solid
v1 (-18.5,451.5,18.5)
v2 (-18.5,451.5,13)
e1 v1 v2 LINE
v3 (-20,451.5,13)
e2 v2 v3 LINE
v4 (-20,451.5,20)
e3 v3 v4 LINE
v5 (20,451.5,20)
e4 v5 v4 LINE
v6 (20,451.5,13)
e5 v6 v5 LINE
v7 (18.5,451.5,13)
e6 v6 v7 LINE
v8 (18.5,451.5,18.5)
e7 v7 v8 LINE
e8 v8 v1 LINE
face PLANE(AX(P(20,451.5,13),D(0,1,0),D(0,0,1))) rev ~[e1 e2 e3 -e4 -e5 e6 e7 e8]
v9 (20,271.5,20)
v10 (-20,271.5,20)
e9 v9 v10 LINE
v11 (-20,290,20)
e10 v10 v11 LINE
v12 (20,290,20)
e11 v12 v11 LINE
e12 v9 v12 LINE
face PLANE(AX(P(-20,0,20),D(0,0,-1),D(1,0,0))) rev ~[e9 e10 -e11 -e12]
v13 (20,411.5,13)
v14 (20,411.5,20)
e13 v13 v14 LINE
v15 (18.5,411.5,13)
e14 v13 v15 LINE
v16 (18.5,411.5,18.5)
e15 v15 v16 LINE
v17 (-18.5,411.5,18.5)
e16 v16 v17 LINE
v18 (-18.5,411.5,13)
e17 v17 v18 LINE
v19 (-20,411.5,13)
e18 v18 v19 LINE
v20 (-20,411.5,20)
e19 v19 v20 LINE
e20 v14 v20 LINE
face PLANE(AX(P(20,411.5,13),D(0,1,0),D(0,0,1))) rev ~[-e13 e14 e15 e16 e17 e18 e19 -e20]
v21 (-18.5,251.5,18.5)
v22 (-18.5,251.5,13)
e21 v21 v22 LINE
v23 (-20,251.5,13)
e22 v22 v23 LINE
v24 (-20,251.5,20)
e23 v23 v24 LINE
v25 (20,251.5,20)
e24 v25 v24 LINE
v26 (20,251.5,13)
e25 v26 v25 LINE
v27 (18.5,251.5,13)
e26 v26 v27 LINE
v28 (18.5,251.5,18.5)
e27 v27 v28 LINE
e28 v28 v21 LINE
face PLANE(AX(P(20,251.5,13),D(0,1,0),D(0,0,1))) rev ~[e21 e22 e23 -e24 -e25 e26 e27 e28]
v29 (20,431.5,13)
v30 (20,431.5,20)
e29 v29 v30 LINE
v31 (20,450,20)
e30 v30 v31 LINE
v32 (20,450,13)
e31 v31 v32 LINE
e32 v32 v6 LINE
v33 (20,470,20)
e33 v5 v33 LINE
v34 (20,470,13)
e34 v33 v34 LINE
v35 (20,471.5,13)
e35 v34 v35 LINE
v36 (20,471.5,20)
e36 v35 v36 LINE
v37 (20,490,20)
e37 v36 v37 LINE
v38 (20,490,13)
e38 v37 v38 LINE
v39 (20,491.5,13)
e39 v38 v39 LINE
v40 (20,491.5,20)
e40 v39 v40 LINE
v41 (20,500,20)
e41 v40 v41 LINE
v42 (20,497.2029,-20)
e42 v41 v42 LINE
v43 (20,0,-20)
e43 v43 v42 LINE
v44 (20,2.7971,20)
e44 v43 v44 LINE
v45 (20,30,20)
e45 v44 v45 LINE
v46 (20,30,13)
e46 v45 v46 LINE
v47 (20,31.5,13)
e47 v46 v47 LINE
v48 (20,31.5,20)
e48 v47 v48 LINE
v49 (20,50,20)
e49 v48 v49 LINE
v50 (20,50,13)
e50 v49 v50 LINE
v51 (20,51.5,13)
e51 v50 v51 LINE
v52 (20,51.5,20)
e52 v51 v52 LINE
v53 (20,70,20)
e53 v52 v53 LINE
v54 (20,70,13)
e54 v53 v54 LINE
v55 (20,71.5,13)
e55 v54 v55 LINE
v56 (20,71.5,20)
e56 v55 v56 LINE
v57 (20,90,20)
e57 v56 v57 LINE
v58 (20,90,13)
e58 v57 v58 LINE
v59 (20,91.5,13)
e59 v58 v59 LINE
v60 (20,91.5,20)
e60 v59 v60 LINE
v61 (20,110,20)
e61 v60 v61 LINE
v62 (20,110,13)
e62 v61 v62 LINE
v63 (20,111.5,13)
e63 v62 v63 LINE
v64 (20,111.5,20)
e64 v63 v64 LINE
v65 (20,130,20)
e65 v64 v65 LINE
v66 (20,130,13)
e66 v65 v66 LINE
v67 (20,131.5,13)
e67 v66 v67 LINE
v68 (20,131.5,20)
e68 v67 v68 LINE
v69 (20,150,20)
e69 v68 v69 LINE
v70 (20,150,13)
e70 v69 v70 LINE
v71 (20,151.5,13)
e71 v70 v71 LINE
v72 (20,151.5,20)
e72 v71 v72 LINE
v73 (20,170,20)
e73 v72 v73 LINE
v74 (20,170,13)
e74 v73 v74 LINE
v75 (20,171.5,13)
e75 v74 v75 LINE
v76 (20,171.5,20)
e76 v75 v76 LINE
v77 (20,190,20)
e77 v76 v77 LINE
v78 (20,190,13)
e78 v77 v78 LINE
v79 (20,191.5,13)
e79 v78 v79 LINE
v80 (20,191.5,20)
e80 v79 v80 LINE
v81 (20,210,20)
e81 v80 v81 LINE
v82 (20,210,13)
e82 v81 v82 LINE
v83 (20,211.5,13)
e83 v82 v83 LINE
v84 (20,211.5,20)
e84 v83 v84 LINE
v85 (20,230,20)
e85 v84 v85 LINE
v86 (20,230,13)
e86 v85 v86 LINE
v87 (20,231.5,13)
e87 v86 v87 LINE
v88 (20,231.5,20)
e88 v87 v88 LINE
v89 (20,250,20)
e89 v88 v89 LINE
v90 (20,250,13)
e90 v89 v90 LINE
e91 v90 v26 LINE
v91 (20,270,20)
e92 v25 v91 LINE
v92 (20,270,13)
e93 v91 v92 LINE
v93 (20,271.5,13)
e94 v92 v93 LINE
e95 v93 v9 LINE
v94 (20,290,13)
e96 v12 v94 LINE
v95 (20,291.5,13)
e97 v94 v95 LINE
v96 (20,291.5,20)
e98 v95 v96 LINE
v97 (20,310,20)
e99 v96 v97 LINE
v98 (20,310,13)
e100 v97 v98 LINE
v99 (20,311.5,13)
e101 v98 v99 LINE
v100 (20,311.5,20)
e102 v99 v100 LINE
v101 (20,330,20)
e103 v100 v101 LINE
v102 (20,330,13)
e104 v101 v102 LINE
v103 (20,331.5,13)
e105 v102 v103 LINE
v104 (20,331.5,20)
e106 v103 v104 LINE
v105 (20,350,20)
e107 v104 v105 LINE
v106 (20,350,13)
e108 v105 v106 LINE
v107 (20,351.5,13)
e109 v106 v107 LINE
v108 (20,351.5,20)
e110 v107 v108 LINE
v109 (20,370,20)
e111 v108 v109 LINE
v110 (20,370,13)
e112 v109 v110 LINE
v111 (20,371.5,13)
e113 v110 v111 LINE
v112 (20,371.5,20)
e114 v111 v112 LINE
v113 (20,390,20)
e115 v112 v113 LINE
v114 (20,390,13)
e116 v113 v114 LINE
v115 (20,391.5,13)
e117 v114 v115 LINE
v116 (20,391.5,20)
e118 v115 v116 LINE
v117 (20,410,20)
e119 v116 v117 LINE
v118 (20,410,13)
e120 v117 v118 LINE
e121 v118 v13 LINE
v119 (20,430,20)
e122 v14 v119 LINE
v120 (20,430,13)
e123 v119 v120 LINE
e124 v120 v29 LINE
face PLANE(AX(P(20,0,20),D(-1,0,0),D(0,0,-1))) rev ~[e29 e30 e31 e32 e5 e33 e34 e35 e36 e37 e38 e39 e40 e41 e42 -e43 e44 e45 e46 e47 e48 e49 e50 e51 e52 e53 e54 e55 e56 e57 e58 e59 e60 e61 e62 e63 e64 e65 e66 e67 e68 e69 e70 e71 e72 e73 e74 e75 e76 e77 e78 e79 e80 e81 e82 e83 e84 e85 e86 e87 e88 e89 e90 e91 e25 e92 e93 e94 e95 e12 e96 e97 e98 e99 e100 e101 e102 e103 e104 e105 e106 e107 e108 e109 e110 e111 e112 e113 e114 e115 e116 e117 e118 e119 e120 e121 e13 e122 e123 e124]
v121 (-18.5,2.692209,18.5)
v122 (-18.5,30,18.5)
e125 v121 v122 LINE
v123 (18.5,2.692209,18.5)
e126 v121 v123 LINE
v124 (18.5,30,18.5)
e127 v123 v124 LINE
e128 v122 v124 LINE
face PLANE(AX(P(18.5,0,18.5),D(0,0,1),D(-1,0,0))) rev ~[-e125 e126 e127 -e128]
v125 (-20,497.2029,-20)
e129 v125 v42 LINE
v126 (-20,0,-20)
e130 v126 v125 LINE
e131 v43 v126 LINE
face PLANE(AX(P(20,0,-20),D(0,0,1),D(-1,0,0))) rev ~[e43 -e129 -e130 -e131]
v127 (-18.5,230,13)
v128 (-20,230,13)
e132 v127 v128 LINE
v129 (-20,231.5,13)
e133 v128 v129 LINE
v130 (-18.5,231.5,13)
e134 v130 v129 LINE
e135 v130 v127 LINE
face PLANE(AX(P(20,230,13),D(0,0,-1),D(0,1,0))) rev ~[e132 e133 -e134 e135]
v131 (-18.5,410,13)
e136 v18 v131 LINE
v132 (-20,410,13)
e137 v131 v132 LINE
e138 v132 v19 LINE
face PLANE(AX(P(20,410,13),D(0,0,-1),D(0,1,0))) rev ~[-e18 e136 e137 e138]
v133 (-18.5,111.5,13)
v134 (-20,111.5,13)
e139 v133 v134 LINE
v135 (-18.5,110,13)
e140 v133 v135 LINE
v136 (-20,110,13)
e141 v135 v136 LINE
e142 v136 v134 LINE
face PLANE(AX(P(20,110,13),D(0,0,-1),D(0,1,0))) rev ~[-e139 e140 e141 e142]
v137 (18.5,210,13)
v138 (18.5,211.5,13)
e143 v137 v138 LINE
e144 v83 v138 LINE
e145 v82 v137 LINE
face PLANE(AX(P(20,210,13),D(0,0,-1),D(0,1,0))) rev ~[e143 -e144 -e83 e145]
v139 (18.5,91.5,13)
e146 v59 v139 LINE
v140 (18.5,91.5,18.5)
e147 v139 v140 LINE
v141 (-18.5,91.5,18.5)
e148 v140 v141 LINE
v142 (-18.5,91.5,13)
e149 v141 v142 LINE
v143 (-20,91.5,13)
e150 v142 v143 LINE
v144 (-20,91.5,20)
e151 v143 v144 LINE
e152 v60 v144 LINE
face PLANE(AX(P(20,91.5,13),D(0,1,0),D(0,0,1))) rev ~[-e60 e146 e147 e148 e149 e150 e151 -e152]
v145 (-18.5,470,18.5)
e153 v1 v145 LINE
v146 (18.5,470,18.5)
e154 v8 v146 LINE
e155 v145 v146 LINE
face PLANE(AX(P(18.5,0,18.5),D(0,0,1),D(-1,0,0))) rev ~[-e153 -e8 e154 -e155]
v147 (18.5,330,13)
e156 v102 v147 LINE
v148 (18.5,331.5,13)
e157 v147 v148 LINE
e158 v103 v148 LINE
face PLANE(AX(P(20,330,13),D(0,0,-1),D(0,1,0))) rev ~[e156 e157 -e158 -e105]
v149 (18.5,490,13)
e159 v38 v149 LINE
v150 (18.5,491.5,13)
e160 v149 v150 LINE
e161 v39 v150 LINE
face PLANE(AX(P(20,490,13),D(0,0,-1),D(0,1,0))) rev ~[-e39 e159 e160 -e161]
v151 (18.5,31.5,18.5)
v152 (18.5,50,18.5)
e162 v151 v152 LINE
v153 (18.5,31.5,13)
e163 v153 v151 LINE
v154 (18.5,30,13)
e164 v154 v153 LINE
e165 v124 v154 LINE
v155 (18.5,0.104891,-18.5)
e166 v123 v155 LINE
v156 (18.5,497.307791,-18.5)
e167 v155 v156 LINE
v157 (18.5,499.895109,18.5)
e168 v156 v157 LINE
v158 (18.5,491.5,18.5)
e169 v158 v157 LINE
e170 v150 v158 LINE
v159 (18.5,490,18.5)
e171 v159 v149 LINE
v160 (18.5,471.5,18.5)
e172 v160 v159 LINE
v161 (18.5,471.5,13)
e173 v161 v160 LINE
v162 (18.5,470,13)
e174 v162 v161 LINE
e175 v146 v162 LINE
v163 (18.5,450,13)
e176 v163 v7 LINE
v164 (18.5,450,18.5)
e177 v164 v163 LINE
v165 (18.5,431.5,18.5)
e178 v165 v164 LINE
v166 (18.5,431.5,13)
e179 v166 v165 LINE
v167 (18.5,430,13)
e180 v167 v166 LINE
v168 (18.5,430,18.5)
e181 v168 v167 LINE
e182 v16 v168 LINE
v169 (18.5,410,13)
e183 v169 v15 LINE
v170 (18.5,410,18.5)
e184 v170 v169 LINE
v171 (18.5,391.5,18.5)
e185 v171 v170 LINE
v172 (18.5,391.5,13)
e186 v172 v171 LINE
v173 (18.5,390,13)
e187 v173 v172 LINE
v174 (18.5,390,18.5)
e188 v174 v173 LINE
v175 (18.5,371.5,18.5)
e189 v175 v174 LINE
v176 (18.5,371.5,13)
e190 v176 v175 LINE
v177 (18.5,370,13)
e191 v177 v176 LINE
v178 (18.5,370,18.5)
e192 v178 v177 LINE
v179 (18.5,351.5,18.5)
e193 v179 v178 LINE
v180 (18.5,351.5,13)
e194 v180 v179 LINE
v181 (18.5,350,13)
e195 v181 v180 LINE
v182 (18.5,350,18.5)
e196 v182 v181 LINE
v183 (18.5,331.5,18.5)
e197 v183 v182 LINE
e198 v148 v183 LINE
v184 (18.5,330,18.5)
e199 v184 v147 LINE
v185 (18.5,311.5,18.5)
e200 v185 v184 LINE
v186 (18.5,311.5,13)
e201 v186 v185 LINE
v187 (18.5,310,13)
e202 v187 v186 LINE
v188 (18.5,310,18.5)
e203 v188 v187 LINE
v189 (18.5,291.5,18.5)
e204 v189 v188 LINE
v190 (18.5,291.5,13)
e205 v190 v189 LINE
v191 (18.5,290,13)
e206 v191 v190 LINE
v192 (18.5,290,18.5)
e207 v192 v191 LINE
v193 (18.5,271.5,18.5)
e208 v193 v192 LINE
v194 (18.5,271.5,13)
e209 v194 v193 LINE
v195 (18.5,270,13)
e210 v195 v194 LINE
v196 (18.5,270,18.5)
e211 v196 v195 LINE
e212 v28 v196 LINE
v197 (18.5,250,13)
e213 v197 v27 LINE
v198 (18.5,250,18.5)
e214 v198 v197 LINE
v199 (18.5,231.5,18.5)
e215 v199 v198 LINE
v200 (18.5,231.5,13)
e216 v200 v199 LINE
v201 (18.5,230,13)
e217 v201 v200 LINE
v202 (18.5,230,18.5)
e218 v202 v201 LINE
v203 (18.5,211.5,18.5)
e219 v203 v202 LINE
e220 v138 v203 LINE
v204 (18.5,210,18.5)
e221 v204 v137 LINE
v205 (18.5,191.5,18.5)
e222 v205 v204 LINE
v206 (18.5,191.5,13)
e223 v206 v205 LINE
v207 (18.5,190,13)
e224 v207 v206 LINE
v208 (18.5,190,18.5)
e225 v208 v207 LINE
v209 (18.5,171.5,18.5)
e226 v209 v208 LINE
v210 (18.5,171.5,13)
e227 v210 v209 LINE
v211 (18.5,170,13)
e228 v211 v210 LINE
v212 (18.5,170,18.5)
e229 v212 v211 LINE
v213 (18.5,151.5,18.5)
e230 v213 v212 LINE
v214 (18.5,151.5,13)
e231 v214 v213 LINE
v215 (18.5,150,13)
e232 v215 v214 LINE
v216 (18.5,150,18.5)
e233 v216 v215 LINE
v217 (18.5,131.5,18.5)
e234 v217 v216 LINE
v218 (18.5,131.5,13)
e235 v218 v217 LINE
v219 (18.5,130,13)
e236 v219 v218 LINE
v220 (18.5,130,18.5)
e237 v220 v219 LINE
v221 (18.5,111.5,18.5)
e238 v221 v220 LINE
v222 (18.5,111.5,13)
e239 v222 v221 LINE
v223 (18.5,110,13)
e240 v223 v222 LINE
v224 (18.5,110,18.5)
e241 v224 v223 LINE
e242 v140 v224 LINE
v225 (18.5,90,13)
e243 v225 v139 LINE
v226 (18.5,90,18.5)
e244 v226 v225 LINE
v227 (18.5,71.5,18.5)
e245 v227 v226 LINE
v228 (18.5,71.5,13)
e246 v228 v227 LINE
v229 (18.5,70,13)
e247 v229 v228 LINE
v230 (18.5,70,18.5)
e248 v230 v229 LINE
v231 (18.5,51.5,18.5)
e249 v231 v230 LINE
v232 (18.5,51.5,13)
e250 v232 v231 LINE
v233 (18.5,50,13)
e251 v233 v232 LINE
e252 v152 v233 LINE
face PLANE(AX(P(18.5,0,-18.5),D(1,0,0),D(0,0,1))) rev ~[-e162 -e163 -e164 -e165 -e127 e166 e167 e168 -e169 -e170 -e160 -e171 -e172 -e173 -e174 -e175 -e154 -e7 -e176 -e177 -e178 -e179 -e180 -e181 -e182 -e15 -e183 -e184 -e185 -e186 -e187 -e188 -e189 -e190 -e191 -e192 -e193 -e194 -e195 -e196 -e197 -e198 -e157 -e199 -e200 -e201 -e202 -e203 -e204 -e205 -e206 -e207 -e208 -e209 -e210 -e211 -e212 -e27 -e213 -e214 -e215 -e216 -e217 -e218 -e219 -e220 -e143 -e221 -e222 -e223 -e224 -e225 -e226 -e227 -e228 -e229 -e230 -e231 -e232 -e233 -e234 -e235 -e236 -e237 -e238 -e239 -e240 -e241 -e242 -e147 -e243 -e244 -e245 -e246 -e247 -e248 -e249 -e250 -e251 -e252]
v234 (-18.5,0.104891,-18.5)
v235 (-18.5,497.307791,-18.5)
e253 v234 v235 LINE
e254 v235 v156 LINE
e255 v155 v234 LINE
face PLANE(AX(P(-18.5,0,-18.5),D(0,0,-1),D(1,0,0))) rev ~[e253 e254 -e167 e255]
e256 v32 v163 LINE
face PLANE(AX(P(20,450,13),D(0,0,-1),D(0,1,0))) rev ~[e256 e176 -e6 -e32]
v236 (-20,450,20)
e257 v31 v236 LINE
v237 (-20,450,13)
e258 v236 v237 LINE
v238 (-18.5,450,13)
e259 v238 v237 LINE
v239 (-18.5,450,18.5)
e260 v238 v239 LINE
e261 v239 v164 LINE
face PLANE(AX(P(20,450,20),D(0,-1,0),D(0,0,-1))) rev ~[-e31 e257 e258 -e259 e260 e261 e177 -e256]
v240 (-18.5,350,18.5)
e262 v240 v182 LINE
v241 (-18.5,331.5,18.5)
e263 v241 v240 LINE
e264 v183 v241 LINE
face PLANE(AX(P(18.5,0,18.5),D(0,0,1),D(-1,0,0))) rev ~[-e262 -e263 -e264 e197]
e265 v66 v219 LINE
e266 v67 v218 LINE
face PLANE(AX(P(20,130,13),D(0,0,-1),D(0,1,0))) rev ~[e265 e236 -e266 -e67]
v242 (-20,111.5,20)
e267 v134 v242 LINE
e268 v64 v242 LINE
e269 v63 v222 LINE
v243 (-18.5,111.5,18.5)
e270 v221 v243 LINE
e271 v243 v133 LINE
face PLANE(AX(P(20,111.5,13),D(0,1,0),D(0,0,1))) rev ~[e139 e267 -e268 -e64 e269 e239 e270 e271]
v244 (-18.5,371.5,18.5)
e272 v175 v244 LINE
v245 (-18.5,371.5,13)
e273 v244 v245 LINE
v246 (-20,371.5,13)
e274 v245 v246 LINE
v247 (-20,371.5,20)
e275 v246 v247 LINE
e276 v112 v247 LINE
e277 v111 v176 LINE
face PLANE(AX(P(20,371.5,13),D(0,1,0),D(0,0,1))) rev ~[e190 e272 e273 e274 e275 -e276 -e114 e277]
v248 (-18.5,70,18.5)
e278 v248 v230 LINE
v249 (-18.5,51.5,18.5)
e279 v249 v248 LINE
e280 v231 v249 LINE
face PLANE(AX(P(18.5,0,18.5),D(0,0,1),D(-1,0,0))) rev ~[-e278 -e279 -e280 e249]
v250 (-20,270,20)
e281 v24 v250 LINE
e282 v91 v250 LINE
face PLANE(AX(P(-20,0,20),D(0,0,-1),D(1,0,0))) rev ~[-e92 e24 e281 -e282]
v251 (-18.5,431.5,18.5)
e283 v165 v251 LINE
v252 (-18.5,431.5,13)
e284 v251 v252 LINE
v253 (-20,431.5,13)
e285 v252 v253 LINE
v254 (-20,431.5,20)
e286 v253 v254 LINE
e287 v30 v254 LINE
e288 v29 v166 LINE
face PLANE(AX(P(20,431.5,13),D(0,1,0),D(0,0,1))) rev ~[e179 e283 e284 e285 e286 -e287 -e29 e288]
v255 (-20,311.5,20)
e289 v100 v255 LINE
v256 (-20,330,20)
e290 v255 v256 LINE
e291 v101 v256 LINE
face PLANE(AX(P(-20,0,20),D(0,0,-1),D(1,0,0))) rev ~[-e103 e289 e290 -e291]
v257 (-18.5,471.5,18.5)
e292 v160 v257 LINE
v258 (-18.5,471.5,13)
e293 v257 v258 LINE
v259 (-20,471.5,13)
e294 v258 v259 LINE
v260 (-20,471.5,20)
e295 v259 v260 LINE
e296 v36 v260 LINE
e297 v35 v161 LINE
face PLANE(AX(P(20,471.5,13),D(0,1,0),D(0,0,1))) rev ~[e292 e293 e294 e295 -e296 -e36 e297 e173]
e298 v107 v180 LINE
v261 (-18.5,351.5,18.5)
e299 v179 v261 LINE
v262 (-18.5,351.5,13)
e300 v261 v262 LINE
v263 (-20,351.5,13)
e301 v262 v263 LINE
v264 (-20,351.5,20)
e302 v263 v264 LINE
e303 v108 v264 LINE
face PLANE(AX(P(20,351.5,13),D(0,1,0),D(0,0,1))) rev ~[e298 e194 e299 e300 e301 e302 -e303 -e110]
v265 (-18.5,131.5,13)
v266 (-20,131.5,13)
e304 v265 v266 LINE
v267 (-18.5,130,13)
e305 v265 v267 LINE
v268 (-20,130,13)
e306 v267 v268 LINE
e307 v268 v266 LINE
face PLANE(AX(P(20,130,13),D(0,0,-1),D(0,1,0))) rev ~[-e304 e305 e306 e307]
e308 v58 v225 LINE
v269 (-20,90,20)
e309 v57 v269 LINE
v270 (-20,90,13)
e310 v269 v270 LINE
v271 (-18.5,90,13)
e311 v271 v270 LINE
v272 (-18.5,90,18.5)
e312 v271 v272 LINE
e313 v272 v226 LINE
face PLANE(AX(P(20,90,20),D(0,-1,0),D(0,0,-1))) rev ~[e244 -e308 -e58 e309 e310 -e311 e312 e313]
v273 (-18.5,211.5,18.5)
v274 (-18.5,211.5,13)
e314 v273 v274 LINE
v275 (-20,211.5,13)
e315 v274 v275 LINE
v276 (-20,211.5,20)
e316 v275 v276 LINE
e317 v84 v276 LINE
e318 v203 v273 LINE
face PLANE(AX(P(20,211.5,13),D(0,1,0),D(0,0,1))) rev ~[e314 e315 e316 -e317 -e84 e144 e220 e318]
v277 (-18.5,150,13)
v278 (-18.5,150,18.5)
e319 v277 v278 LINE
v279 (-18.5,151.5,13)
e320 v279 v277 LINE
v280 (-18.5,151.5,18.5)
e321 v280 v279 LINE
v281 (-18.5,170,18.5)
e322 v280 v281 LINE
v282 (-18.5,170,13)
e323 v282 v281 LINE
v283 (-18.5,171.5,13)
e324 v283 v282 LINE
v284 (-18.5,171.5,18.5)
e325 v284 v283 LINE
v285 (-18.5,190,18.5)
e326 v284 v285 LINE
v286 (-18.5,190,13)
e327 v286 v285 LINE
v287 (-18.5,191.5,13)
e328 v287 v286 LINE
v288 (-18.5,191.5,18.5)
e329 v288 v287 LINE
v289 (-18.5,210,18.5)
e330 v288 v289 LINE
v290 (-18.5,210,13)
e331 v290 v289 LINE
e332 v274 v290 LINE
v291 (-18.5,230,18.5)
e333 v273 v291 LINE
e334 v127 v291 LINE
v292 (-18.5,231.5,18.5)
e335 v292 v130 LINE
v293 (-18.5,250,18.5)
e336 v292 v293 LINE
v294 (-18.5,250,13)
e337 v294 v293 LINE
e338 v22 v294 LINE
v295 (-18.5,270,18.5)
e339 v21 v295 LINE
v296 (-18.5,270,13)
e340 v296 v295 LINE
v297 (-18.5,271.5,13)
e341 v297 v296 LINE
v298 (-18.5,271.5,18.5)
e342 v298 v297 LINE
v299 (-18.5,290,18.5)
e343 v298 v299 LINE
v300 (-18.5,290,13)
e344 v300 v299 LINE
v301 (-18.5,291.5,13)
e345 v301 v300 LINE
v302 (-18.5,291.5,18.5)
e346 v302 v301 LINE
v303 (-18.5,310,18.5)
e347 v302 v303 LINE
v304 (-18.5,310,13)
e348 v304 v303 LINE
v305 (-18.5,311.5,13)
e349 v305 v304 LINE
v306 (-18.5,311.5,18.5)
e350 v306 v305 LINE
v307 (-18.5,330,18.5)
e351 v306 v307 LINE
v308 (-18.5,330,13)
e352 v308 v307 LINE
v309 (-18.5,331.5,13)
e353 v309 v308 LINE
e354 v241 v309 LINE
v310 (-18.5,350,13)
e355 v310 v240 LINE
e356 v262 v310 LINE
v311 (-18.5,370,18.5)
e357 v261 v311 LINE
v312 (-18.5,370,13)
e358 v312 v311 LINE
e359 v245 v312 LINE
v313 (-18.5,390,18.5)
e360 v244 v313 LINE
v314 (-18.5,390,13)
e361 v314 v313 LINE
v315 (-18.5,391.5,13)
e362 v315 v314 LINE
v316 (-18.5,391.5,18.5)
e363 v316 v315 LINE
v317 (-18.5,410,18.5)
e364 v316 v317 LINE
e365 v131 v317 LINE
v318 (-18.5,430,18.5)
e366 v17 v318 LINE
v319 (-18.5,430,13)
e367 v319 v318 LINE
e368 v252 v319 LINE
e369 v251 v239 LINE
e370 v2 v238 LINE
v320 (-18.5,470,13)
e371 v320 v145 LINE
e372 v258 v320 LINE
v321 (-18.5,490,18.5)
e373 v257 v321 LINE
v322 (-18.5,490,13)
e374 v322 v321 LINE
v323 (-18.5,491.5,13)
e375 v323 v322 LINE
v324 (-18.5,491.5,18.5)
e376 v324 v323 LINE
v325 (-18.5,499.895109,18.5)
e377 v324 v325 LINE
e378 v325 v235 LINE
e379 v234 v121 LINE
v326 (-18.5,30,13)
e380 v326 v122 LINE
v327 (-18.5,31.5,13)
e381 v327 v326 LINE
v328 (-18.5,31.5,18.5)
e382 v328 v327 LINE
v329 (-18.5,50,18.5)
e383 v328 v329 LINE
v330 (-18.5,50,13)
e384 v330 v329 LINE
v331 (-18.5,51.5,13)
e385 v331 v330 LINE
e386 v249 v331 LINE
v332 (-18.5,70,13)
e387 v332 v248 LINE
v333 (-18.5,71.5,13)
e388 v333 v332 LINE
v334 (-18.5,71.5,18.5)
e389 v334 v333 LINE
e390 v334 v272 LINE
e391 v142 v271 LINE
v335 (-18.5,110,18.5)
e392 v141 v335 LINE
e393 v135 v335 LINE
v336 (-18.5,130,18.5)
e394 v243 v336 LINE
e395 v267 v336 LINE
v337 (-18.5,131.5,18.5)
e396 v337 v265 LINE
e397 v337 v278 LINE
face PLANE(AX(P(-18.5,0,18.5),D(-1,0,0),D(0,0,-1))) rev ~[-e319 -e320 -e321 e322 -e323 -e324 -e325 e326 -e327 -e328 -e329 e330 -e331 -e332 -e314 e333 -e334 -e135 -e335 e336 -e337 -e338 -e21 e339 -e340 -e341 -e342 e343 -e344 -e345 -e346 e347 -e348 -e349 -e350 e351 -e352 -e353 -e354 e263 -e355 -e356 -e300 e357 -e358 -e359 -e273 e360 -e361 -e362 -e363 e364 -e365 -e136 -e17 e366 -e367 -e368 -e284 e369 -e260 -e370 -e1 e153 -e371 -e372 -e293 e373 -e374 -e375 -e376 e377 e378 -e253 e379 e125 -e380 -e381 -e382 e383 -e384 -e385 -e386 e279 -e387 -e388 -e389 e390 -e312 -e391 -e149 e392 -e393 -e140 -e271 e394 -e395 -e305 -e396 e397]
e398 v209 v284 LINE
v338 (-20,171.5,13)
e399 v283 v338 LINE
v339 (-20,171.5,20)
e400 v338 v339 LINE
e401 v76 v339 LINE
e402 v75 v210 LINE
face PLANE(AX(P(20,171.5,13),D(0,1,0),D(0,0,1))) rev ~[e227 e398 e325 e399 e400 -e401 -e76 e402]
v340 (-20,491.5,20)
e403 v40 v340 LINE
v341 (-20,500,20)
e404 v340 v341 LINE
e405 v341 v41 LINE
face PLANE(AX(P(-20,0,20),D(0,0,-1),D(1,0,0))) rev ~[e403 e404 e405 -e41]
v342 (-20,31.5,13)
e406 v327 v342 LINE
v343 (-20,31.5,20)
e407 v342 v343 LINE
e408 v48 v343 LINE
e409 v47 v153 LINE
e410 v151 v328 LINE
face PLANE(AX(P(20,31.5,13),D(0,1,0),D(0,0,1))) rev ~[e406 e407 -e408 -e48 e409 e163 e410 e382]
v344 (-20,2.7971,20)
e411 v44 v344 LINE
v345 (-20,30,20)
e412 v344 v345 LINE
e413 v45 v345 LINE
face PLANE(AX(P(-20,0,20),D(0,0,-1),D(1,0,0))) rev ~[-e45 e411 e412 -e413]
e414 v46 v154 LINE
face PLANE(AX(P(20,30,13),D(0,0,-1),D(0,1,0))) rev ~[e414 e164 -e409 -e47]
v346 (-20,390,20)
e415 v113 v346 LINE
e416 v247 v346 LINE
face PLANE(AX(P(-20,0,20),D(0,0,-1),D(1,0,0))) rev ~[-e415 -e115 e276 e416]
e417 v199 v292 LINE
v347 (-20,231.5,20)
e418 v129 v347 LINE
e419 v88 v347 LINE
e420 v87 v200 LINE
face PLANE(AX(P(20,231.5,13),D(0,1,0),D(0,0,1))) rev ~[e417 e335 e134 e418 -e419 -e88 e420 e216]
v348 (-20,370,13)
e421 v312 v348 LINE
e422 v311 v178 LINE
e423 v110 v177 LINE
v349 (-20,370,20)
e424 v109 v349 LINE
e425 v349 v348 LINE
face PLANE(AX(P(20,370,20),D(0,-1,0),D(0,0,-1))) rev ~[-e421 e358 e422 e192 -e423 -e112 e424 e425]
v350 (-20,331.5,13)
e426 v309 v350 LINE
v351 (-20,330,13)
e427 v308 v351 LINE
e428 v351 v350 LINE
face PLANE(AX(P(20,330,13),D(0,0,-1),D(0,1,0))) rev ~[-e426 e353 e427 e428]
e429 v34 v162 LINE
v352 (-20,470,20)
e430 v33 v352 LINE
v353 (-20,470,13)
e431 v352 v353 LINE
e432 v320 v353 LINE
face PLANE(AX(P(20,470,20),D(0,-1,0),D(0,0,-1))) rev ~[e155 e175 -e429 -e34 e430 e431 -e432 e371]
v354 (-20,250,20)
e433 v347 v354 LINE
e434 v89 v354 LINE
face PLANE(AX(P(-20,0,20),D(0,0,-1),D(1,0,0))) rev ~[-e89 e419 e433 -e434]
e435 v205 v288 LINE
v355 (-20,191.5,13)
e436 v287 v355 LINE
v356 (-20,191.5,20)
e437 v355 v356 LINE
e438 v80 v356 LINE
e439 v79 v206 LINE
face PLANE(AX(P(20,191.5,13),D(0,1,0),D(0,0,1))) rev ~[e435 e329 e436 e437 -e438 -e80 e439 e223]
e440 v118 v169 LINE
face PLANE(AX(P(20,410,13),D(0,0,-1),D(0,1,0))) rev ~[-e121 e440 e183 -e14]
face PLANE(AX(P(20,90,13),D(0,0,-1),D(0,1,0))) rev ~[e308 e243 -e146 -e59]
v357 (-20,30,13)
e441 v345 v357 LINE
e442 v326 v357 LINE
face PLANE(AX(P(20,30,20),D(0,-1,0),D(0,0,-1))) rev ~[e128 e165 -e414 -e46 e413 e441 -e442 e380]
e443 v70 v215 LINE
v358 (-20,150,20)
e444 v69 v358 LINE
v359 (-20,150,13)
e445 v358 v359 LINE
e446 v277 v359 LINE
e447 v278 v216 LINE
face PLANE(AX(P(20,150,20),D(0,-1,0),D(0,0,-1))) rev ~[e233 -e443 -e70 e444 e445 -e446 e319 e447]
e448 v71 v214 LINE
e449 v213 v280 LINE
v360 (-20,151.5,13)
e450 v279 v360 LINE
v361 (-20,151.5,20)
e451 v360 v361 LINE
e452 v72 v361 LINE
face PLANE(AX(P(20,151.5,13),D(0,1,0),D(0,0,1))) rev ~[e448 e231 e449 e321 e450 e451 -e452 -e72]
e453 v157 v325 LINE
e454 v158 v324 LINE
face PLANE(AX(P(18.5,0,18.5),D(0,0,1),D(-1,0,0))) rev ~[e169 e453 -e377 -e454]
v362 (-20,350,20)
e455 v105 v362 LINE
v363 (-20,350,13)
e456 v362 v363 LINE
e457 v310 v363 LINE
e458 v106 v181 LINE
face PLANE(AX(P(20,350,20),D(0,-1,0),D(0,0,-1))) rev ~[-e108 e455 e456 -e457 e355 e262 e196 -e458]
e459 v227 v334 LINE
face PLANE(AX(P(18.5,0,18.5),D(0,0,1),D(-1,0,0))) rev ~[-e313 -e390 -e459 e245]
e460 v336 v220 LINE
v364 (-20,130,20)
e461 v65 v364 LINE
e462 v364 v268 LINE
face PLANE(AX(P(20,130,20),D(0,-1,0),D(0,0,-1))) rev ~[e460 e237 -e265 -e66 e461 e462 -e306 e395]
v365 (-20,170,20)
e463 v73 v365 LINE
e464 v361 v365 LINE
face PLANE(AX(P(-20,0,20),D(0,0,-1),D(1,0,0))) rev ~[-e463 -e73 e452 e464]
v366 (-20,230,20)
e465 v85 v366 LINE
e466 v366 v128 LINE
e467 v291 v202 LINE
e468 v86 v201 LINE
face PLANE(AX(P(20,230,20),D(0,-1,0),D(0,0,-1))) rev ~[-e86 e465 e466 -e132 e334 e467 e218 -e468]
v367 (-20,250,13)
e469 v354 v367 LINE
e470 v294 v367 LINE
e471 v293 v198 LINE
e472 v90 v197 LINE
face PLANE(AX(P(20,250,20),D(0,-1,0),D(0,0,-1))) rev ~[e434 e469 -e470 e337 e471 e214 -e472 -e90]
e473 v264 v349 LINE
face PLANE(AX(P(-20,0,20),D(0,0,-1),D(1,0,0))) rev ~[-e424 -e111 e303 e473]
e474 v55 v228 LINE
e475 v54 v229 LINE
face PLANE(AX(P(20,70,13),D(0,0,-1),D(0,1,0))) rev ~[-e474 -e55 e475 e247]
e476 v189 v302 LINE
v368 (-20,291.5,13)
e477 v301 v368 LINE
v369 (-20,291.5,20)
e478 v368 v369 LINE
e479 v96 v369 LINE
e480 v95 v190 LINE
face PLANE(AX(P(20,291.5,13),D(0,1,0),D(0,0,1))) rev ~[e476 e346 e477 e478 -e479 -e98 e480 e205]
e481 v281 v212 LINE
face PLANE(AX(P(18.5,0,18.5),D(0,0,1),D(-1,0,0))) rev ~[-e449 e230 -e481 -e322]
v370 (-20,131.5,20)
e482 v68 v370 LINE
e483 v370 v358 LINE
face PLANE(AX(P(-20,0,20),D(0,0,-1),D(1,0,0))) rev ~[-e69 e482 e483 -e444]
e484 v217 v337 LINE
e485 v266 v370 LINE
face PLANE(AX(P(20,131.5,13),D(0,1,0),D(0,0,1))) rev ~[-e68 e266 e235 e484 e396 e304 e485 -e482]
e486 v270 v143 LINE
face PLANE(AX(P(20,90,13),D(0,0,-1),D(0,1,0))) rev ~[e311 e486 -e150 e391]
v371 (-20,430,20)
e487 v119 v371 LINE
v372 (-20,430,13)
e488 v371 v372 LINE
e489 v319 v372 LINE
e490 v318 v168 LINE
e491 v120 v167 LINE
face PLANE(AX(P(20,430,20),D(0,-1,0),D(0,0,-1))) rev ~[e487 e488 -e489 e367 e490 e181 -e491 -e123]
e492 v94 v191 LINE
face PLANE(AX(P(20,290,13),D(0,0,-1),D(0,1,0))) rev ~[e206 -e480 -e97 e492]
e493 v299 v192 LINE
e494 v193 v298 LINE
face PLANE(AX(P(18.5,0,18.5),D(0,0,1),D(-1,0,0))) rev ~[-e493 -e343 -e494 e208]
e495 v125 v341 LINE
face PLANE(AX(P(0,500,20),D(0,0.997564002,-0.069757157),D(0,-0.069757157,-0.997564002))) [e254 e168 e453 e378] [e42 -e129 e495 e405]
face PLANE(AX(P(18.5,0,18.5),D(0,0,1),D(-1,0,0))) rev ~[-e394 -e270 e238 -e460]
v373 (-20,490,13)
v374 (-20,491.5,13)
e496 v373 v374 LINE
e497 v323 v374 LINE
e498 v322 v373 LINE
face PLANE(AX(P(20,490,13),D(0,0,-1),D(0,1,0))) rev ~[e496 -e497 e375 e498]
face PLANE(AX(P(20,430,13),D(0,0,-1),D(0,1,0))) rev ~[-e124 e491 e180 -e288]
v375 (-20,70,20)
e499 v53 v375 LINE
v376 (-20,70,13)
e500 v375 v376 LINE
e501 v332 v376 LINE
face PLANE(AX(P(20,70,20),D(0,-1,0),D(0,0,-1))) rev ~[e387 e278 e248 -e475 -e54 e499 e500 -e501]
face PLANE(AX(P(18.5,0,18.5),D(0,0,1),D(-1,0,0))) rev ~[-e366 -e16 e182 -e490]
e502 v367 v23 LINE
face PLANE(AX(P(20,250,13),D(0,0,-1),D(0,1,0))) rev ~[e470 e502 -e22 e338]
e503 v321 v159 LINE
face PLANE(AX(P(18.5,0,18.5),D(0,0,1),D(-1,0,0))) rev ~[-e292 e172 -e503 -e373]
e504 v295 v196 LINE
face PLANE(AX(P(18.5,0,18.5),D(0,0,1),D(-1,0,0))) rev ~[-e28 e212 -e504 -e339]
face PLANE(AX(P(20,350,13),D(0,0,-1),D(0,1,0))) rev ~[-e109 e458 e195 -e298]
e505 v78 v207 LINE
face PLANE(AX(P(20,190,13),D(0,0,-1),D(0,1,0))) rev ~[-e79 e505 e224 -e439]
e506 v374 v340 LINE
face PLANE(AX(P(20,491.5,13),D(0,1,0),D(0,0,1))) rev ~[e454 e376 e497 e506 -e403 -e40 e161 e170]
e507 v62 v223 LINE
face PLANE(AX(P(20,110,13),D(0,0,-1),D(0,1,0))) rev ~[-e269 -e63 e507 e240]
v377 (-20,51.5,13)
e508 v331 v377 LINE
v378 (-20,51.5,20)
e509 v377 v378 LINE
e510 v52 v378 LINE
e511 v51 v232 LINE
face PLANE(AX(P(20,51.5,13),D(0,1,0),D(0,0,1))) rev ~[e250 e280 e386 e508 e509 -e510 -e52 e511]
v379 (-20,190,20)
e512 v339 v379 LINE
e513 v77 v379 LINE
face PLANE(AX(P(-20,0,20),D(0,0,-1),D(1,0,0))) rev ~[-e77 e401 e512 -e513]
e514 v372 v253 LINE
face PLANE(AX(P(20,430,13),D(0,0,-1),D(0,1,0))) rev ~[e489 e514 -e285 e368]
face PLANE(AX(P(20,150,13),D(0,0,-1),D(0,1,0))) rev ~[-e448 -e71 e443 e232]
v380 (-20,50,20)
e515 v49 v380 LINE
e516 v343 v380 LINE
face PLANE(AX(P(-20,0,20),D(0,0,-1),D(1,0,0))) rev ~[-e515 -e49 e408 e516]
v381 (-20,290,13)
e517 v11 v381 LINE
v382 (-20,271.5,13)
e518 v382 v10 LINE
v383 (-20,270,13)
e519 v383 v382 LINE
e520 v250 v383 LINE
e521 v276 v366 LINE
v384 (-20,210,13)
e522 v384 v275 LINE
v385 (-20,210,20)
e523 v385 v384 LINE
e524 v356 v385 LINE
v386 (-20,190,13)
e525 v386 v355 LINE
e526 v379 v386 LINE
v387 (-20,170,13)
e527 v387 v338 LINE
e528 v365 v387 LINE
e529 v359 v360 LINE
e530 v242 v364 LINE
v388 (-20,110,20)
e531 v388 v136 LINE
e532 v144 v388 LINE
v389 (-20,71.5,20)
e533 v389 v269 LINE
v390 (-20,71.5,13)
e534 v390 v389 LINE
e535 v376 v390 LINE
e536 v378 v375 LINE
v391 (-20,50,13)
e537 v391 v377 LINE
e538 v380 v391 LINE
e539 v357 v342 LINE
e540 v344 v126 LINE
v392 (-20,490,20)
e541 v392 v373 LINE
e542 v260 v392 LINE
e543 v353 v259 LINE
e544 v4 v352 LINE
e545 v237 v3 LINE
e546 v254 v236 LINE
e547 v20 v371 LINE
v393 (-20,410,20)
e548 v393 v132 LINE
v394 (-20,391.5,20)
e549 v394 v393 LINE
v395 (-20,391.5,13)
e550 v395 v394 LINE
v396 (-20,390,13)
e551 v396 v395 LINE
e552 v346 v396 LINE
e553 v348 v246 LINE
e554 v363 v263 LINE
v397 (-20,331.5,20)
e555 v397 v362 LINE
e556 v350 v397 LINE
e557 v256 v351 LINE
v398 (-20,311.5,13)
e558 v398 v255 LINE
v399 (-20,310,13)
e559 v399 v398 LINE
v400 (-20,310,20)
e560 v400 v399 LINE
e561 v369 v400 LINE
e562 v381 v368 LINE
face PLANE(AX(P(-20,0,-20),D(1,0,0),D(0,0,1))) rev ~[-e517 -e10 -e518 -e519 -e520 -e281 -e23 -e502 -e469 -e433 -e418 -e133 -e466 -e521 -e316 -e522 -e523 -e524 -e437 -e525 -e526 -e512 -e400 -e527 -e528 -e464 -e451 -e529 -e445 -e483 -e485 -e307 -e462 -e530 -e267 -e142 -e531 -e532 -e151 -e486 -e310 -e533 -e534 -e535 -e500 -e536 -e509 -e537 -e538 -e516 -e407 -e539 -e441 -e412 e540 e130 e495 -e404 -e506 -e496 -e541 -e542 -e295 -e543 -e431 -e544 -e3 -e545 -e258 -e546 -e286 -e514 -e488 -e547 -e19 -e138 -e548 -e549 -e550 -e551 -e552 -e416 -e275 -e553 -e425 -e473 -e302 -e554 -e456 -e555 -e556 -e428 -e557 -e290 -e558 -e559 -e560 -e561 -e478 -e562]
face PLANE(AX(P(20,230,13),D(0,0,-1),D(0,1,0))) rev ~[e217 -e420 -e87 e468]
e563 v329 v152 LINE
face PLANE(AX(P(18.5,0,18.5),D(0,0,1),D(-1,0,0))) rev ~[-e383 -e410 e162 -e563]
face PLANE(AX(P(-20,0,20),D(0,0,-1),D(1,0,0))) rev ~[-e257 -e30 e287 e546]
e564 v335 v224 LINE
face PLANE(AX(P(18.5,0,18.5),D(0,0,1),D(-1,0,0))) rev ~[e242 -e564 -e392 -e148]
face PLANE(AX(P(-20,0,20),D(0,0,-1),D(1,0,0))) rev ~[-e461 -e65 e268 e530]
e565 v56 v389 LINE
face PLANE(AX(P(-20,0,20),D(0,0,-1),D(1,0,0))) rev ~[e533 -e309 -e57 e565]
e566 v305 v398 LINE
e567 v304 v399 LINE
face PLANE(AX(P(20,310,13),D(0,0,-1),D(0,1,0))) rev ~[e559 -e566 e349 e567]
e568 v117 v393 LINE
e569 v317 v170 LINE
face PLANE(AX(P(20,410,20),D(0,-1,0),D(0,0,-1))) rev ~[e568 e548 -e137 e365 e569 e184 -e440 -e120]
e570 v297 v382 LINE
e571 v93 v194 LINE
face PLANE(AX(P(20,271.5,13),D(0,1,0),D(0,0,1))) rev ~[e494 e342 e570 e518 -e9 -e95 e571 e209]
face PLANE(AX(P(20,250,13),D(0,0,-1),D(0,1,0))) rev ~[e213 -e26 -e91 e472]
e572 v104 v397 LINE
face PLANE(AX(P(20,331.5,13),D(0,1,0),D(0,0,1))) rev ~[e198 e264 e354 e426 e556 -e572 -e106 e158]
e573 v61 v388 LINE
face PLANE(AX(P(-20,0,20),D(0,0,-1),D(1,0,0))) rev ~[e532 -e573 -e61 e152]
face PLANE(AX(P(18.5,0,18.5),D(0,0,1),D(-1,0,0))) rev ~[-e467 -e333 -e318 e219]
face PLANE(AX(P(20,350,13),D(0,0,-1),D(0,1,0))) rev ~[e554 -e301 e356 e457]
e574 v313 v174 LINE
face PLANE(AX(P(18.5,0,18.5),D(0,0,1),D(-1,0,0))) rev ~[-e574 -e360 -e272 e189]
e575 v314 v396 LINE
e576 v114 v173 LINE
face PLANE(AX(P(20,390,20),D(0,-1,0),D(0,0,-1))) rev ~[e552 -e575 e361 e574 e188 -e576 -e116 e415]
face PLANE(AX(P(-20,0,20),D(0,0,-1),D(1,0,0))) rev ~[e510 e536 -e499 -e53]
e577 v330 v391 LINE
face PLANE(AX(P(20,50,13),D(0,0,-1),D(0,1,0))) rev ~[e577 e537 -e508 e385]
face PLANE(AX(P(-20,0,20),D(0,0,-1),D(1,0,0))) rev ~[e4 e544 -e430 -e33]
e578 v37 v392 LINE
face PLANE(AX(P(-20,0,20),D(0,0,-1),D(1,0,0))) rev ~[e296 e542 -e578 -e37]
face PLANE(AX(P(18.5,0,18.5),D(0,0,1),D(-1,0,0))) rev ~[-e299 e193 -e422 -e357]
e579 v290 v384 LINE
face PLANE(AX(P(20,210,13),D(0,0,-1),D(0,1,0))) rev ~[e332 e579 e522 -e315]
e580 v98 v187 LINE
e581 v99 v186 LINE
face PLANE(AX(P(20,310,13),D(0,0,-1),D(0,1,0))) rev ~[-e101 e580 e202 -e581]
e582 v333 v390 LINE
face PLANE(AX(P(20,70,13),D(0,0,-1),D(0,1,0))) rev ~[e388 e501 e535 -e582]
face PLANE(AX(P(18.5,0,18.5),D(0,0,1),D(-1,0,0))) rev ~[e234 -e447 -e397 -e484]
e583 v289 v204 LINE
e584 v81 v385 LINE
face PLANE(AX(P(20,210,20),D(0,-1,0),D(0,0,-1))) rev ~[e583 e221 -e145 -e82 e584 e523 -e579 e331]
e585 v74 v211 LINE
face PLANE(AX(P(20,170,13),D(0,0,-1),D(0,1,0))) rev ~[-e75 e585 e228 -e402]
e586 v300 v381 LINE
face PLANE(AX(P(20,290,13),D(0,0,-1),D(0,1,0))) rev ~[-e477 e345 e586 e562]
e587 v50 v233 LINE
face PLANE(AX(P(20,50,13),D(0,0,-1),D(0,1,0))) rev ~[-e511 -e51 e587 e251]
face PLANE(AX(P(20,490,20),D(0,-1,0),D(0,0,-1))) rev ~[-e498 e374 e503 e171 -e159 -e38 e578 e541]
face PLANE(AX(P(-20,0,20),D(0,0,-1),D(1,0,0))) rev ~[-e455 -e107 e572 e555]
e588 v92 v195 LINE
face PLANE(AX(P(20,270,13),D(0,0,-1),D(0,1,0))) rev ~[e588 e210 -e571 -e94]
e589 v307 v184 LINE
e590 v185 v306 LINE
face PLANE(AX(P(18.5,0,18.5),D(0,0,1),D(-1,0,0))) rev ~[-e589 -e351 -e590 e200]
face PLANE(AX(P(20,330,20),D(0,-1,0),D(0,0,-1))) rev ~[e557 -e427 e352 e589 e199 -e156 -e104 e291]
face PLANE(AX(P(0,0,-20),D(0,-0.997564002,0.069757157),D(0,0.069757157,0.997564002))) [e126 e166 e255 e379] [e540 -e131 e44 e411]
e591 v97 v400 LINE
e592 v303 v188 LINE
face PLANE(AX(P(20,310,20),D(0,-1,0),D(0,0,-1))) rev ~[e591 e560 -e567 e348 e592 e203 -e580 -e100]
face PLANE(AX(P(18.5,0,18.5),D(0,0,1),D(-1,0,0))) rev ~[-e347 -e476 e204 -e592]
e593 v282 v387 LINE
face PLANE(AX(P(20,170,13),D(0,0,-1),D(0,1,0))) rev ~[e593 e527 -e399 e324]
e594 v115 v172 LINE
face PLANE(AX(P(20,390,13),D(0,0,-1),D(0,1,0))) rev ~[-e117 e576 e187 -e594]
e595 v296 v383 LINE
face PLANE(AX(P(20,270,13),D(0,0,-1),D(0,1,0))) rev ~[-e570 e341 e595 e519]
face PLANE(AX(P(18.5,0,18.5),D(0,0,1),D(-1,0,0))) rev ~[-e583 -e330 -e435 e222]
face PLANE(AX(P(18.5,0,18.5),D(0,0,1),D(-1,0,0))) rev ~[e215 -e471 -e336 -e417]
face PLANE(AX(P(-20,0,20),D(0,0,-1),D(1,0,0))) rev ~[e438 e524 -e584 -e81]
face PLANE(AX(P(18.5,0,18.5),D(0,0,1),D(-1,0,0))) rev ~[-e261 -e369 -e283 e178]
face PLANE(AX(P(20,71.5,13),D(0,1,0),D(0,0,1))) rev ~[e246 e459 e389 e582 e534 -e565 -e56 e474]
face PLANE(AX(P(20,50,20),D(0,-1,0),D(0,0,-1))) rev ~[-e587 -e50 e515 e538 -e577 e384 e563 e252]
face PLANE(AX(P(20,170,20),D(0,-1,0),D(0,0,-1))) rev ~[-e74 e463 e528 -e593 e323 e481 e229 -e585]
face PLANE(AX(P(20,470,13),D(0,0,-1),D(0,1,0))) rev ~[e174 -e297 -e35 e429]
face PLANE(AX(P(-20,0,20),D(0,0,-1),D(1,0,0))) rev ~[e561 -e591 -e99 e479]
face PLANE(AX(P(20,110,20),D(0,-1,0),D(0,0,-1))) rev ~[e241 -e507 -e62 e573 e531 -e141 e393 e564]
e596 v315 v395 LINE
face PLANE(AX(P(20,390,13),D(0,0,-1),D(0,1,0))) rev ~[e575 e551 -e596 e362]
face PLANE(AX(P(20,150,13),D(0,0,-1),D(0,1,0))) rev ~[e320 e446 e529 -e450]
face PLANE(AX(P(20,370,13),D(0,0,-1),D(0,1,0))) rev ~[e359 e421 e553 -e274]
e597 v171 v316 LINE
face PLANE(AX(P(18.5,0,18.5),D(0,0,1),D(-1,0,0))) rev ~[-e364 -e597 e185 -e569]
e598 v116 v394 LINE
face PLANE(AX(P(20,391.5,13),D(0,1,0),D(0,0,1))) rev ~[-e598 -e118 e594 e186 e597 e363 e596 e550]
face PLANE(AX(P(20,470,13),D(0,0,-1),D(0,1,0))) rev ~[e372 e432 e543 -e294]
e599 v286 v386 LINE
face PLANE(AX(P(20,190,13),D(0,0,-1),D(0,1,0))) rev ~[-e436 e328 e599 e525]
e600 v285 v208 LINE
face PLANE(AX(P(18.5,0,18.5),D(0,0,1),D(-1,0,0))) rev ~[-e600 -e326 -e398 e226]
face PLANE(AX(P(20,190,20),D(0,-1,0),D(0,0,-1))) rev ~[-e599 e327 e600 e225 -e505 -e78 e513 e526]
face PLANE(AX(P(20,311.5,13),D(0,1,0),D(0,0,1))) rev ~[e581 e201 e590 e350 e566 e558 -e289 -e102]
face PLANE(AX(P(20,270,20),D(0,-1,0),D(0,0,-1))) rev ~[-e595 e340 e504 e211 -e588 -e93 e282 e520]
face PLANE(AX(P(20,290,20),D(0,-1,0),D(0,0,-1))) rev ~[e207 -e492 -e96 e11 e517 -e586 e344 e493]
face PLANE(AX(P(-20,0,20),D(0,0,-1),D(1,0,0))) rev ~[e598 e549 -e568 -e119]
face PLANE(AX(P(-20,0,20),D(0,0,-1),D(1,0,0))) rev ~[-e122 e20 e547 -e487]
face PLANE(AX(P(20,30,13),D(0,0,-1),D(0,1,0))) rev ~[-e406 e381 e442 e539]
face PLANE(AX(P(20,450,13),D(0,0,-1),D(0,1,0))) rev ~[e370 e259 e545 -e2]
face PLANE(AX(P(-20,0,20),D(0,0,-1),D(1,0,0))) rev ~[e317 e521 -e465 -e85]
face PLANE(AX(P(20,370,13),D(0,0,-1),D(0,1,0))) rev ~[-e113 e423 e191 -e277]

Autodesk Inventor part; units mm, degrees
ref_plane "YZ Plane" through (0, 0, 0) normal (1, 0, 0) x (0, 1, 0)
ref_plane "XZ Plane" through (0, 0, 0) normal (0, 1, 0) x (-1, 0, 0)
ref_plane "XY Plane" through (0, 0, 0) normal (0, 0, 1) x (1, 0, 0)
sketch "Sketch1" plane through (0, 0, 0) normal (0, 1, 0) x (-1, 0, 0)
  line L0 (20, 20) -> (-20, 20)
  line L1 (-20, 20) -> (-20, -20)
  line L2 (-20, -20) -> (20, -20)
  line L3 (20, -20) -> (20, 20)
  line L4 (20, 20) -> (-20, -20) construction
  line L5 (-20, 20) -> (20, -20) construction
  line L6 (-18.5, 18.5) -> (18.5, 18.5)
  line L7 (18.5, 18.5) -> (18.5, -18.5)
  line L8 (18.5, -18.5) -> (-18.5, -18.5)
  line L9 (-18.5, -18.5) -> (-18.5, 18.5)
  point P0 (0, 0)
  dimension "d7" = 40
  dimension "d8" = 40
  dimension "d9" = 1.5
extrude "Extrusion1" add sketch "Sketch1" along normal blind 500
sketch "Sketch2" plane through (20, 0, 20) normal (1, 0, 0) x (0, 0, -1)
  line L0 (0, 0) -> (0, 500) projected
  line L1 (0, 30) -> (7, 30)
  line L2 (7, 30) -> (7, 31.5)
  line L3 (7, 31.5) -> (0, 31.5)
  line L4 (0, 31.5) -> (0, 30)
  point P0 (20, 0)
  point P1 (0, 31.5)
  dimension "d10" = 7
  dimension "d11" = 1.5
  dimension "d17" = 30
extrude "Extrusion2" cut sketch "Sketch2" against normal through all
pattern_linear "Rectangular Pattern1" count 49 spacing 20 along (0, 1, 0) of "Extrusion2"
sketch "Sketch5" plane through (0, 0, 0) normal (1, 0, 0) x (0, 1, 0)
  line L0 (0, 20) -> (0, -20) projected
  line L1 (0, 20) -> (30, 20) projected
  line L2 (0, -20) -> (2.7971, 20)
  line L3 (500, -20) -> (500, 20) projected
  line L4 (0, -20) -> (500, -20) projected
  line L5 (500, 20) -> (497.2029, -20)
  point P0 (0, 0)
  dimension "d18" = 4
extrude "Extrusion3" cut sketch "Sketch5" along normal through all both and the other way through all
equation "\"d1\" = BEAM_3_lenth"
equation "\"d18\" = BEAM_3_angle"
equation "\"BEAM_3_lenth\" = 500"
equation "\"BEAM_3_angle\" = 4deg"
properties part number "MNT-CDF-313 beam 3"
